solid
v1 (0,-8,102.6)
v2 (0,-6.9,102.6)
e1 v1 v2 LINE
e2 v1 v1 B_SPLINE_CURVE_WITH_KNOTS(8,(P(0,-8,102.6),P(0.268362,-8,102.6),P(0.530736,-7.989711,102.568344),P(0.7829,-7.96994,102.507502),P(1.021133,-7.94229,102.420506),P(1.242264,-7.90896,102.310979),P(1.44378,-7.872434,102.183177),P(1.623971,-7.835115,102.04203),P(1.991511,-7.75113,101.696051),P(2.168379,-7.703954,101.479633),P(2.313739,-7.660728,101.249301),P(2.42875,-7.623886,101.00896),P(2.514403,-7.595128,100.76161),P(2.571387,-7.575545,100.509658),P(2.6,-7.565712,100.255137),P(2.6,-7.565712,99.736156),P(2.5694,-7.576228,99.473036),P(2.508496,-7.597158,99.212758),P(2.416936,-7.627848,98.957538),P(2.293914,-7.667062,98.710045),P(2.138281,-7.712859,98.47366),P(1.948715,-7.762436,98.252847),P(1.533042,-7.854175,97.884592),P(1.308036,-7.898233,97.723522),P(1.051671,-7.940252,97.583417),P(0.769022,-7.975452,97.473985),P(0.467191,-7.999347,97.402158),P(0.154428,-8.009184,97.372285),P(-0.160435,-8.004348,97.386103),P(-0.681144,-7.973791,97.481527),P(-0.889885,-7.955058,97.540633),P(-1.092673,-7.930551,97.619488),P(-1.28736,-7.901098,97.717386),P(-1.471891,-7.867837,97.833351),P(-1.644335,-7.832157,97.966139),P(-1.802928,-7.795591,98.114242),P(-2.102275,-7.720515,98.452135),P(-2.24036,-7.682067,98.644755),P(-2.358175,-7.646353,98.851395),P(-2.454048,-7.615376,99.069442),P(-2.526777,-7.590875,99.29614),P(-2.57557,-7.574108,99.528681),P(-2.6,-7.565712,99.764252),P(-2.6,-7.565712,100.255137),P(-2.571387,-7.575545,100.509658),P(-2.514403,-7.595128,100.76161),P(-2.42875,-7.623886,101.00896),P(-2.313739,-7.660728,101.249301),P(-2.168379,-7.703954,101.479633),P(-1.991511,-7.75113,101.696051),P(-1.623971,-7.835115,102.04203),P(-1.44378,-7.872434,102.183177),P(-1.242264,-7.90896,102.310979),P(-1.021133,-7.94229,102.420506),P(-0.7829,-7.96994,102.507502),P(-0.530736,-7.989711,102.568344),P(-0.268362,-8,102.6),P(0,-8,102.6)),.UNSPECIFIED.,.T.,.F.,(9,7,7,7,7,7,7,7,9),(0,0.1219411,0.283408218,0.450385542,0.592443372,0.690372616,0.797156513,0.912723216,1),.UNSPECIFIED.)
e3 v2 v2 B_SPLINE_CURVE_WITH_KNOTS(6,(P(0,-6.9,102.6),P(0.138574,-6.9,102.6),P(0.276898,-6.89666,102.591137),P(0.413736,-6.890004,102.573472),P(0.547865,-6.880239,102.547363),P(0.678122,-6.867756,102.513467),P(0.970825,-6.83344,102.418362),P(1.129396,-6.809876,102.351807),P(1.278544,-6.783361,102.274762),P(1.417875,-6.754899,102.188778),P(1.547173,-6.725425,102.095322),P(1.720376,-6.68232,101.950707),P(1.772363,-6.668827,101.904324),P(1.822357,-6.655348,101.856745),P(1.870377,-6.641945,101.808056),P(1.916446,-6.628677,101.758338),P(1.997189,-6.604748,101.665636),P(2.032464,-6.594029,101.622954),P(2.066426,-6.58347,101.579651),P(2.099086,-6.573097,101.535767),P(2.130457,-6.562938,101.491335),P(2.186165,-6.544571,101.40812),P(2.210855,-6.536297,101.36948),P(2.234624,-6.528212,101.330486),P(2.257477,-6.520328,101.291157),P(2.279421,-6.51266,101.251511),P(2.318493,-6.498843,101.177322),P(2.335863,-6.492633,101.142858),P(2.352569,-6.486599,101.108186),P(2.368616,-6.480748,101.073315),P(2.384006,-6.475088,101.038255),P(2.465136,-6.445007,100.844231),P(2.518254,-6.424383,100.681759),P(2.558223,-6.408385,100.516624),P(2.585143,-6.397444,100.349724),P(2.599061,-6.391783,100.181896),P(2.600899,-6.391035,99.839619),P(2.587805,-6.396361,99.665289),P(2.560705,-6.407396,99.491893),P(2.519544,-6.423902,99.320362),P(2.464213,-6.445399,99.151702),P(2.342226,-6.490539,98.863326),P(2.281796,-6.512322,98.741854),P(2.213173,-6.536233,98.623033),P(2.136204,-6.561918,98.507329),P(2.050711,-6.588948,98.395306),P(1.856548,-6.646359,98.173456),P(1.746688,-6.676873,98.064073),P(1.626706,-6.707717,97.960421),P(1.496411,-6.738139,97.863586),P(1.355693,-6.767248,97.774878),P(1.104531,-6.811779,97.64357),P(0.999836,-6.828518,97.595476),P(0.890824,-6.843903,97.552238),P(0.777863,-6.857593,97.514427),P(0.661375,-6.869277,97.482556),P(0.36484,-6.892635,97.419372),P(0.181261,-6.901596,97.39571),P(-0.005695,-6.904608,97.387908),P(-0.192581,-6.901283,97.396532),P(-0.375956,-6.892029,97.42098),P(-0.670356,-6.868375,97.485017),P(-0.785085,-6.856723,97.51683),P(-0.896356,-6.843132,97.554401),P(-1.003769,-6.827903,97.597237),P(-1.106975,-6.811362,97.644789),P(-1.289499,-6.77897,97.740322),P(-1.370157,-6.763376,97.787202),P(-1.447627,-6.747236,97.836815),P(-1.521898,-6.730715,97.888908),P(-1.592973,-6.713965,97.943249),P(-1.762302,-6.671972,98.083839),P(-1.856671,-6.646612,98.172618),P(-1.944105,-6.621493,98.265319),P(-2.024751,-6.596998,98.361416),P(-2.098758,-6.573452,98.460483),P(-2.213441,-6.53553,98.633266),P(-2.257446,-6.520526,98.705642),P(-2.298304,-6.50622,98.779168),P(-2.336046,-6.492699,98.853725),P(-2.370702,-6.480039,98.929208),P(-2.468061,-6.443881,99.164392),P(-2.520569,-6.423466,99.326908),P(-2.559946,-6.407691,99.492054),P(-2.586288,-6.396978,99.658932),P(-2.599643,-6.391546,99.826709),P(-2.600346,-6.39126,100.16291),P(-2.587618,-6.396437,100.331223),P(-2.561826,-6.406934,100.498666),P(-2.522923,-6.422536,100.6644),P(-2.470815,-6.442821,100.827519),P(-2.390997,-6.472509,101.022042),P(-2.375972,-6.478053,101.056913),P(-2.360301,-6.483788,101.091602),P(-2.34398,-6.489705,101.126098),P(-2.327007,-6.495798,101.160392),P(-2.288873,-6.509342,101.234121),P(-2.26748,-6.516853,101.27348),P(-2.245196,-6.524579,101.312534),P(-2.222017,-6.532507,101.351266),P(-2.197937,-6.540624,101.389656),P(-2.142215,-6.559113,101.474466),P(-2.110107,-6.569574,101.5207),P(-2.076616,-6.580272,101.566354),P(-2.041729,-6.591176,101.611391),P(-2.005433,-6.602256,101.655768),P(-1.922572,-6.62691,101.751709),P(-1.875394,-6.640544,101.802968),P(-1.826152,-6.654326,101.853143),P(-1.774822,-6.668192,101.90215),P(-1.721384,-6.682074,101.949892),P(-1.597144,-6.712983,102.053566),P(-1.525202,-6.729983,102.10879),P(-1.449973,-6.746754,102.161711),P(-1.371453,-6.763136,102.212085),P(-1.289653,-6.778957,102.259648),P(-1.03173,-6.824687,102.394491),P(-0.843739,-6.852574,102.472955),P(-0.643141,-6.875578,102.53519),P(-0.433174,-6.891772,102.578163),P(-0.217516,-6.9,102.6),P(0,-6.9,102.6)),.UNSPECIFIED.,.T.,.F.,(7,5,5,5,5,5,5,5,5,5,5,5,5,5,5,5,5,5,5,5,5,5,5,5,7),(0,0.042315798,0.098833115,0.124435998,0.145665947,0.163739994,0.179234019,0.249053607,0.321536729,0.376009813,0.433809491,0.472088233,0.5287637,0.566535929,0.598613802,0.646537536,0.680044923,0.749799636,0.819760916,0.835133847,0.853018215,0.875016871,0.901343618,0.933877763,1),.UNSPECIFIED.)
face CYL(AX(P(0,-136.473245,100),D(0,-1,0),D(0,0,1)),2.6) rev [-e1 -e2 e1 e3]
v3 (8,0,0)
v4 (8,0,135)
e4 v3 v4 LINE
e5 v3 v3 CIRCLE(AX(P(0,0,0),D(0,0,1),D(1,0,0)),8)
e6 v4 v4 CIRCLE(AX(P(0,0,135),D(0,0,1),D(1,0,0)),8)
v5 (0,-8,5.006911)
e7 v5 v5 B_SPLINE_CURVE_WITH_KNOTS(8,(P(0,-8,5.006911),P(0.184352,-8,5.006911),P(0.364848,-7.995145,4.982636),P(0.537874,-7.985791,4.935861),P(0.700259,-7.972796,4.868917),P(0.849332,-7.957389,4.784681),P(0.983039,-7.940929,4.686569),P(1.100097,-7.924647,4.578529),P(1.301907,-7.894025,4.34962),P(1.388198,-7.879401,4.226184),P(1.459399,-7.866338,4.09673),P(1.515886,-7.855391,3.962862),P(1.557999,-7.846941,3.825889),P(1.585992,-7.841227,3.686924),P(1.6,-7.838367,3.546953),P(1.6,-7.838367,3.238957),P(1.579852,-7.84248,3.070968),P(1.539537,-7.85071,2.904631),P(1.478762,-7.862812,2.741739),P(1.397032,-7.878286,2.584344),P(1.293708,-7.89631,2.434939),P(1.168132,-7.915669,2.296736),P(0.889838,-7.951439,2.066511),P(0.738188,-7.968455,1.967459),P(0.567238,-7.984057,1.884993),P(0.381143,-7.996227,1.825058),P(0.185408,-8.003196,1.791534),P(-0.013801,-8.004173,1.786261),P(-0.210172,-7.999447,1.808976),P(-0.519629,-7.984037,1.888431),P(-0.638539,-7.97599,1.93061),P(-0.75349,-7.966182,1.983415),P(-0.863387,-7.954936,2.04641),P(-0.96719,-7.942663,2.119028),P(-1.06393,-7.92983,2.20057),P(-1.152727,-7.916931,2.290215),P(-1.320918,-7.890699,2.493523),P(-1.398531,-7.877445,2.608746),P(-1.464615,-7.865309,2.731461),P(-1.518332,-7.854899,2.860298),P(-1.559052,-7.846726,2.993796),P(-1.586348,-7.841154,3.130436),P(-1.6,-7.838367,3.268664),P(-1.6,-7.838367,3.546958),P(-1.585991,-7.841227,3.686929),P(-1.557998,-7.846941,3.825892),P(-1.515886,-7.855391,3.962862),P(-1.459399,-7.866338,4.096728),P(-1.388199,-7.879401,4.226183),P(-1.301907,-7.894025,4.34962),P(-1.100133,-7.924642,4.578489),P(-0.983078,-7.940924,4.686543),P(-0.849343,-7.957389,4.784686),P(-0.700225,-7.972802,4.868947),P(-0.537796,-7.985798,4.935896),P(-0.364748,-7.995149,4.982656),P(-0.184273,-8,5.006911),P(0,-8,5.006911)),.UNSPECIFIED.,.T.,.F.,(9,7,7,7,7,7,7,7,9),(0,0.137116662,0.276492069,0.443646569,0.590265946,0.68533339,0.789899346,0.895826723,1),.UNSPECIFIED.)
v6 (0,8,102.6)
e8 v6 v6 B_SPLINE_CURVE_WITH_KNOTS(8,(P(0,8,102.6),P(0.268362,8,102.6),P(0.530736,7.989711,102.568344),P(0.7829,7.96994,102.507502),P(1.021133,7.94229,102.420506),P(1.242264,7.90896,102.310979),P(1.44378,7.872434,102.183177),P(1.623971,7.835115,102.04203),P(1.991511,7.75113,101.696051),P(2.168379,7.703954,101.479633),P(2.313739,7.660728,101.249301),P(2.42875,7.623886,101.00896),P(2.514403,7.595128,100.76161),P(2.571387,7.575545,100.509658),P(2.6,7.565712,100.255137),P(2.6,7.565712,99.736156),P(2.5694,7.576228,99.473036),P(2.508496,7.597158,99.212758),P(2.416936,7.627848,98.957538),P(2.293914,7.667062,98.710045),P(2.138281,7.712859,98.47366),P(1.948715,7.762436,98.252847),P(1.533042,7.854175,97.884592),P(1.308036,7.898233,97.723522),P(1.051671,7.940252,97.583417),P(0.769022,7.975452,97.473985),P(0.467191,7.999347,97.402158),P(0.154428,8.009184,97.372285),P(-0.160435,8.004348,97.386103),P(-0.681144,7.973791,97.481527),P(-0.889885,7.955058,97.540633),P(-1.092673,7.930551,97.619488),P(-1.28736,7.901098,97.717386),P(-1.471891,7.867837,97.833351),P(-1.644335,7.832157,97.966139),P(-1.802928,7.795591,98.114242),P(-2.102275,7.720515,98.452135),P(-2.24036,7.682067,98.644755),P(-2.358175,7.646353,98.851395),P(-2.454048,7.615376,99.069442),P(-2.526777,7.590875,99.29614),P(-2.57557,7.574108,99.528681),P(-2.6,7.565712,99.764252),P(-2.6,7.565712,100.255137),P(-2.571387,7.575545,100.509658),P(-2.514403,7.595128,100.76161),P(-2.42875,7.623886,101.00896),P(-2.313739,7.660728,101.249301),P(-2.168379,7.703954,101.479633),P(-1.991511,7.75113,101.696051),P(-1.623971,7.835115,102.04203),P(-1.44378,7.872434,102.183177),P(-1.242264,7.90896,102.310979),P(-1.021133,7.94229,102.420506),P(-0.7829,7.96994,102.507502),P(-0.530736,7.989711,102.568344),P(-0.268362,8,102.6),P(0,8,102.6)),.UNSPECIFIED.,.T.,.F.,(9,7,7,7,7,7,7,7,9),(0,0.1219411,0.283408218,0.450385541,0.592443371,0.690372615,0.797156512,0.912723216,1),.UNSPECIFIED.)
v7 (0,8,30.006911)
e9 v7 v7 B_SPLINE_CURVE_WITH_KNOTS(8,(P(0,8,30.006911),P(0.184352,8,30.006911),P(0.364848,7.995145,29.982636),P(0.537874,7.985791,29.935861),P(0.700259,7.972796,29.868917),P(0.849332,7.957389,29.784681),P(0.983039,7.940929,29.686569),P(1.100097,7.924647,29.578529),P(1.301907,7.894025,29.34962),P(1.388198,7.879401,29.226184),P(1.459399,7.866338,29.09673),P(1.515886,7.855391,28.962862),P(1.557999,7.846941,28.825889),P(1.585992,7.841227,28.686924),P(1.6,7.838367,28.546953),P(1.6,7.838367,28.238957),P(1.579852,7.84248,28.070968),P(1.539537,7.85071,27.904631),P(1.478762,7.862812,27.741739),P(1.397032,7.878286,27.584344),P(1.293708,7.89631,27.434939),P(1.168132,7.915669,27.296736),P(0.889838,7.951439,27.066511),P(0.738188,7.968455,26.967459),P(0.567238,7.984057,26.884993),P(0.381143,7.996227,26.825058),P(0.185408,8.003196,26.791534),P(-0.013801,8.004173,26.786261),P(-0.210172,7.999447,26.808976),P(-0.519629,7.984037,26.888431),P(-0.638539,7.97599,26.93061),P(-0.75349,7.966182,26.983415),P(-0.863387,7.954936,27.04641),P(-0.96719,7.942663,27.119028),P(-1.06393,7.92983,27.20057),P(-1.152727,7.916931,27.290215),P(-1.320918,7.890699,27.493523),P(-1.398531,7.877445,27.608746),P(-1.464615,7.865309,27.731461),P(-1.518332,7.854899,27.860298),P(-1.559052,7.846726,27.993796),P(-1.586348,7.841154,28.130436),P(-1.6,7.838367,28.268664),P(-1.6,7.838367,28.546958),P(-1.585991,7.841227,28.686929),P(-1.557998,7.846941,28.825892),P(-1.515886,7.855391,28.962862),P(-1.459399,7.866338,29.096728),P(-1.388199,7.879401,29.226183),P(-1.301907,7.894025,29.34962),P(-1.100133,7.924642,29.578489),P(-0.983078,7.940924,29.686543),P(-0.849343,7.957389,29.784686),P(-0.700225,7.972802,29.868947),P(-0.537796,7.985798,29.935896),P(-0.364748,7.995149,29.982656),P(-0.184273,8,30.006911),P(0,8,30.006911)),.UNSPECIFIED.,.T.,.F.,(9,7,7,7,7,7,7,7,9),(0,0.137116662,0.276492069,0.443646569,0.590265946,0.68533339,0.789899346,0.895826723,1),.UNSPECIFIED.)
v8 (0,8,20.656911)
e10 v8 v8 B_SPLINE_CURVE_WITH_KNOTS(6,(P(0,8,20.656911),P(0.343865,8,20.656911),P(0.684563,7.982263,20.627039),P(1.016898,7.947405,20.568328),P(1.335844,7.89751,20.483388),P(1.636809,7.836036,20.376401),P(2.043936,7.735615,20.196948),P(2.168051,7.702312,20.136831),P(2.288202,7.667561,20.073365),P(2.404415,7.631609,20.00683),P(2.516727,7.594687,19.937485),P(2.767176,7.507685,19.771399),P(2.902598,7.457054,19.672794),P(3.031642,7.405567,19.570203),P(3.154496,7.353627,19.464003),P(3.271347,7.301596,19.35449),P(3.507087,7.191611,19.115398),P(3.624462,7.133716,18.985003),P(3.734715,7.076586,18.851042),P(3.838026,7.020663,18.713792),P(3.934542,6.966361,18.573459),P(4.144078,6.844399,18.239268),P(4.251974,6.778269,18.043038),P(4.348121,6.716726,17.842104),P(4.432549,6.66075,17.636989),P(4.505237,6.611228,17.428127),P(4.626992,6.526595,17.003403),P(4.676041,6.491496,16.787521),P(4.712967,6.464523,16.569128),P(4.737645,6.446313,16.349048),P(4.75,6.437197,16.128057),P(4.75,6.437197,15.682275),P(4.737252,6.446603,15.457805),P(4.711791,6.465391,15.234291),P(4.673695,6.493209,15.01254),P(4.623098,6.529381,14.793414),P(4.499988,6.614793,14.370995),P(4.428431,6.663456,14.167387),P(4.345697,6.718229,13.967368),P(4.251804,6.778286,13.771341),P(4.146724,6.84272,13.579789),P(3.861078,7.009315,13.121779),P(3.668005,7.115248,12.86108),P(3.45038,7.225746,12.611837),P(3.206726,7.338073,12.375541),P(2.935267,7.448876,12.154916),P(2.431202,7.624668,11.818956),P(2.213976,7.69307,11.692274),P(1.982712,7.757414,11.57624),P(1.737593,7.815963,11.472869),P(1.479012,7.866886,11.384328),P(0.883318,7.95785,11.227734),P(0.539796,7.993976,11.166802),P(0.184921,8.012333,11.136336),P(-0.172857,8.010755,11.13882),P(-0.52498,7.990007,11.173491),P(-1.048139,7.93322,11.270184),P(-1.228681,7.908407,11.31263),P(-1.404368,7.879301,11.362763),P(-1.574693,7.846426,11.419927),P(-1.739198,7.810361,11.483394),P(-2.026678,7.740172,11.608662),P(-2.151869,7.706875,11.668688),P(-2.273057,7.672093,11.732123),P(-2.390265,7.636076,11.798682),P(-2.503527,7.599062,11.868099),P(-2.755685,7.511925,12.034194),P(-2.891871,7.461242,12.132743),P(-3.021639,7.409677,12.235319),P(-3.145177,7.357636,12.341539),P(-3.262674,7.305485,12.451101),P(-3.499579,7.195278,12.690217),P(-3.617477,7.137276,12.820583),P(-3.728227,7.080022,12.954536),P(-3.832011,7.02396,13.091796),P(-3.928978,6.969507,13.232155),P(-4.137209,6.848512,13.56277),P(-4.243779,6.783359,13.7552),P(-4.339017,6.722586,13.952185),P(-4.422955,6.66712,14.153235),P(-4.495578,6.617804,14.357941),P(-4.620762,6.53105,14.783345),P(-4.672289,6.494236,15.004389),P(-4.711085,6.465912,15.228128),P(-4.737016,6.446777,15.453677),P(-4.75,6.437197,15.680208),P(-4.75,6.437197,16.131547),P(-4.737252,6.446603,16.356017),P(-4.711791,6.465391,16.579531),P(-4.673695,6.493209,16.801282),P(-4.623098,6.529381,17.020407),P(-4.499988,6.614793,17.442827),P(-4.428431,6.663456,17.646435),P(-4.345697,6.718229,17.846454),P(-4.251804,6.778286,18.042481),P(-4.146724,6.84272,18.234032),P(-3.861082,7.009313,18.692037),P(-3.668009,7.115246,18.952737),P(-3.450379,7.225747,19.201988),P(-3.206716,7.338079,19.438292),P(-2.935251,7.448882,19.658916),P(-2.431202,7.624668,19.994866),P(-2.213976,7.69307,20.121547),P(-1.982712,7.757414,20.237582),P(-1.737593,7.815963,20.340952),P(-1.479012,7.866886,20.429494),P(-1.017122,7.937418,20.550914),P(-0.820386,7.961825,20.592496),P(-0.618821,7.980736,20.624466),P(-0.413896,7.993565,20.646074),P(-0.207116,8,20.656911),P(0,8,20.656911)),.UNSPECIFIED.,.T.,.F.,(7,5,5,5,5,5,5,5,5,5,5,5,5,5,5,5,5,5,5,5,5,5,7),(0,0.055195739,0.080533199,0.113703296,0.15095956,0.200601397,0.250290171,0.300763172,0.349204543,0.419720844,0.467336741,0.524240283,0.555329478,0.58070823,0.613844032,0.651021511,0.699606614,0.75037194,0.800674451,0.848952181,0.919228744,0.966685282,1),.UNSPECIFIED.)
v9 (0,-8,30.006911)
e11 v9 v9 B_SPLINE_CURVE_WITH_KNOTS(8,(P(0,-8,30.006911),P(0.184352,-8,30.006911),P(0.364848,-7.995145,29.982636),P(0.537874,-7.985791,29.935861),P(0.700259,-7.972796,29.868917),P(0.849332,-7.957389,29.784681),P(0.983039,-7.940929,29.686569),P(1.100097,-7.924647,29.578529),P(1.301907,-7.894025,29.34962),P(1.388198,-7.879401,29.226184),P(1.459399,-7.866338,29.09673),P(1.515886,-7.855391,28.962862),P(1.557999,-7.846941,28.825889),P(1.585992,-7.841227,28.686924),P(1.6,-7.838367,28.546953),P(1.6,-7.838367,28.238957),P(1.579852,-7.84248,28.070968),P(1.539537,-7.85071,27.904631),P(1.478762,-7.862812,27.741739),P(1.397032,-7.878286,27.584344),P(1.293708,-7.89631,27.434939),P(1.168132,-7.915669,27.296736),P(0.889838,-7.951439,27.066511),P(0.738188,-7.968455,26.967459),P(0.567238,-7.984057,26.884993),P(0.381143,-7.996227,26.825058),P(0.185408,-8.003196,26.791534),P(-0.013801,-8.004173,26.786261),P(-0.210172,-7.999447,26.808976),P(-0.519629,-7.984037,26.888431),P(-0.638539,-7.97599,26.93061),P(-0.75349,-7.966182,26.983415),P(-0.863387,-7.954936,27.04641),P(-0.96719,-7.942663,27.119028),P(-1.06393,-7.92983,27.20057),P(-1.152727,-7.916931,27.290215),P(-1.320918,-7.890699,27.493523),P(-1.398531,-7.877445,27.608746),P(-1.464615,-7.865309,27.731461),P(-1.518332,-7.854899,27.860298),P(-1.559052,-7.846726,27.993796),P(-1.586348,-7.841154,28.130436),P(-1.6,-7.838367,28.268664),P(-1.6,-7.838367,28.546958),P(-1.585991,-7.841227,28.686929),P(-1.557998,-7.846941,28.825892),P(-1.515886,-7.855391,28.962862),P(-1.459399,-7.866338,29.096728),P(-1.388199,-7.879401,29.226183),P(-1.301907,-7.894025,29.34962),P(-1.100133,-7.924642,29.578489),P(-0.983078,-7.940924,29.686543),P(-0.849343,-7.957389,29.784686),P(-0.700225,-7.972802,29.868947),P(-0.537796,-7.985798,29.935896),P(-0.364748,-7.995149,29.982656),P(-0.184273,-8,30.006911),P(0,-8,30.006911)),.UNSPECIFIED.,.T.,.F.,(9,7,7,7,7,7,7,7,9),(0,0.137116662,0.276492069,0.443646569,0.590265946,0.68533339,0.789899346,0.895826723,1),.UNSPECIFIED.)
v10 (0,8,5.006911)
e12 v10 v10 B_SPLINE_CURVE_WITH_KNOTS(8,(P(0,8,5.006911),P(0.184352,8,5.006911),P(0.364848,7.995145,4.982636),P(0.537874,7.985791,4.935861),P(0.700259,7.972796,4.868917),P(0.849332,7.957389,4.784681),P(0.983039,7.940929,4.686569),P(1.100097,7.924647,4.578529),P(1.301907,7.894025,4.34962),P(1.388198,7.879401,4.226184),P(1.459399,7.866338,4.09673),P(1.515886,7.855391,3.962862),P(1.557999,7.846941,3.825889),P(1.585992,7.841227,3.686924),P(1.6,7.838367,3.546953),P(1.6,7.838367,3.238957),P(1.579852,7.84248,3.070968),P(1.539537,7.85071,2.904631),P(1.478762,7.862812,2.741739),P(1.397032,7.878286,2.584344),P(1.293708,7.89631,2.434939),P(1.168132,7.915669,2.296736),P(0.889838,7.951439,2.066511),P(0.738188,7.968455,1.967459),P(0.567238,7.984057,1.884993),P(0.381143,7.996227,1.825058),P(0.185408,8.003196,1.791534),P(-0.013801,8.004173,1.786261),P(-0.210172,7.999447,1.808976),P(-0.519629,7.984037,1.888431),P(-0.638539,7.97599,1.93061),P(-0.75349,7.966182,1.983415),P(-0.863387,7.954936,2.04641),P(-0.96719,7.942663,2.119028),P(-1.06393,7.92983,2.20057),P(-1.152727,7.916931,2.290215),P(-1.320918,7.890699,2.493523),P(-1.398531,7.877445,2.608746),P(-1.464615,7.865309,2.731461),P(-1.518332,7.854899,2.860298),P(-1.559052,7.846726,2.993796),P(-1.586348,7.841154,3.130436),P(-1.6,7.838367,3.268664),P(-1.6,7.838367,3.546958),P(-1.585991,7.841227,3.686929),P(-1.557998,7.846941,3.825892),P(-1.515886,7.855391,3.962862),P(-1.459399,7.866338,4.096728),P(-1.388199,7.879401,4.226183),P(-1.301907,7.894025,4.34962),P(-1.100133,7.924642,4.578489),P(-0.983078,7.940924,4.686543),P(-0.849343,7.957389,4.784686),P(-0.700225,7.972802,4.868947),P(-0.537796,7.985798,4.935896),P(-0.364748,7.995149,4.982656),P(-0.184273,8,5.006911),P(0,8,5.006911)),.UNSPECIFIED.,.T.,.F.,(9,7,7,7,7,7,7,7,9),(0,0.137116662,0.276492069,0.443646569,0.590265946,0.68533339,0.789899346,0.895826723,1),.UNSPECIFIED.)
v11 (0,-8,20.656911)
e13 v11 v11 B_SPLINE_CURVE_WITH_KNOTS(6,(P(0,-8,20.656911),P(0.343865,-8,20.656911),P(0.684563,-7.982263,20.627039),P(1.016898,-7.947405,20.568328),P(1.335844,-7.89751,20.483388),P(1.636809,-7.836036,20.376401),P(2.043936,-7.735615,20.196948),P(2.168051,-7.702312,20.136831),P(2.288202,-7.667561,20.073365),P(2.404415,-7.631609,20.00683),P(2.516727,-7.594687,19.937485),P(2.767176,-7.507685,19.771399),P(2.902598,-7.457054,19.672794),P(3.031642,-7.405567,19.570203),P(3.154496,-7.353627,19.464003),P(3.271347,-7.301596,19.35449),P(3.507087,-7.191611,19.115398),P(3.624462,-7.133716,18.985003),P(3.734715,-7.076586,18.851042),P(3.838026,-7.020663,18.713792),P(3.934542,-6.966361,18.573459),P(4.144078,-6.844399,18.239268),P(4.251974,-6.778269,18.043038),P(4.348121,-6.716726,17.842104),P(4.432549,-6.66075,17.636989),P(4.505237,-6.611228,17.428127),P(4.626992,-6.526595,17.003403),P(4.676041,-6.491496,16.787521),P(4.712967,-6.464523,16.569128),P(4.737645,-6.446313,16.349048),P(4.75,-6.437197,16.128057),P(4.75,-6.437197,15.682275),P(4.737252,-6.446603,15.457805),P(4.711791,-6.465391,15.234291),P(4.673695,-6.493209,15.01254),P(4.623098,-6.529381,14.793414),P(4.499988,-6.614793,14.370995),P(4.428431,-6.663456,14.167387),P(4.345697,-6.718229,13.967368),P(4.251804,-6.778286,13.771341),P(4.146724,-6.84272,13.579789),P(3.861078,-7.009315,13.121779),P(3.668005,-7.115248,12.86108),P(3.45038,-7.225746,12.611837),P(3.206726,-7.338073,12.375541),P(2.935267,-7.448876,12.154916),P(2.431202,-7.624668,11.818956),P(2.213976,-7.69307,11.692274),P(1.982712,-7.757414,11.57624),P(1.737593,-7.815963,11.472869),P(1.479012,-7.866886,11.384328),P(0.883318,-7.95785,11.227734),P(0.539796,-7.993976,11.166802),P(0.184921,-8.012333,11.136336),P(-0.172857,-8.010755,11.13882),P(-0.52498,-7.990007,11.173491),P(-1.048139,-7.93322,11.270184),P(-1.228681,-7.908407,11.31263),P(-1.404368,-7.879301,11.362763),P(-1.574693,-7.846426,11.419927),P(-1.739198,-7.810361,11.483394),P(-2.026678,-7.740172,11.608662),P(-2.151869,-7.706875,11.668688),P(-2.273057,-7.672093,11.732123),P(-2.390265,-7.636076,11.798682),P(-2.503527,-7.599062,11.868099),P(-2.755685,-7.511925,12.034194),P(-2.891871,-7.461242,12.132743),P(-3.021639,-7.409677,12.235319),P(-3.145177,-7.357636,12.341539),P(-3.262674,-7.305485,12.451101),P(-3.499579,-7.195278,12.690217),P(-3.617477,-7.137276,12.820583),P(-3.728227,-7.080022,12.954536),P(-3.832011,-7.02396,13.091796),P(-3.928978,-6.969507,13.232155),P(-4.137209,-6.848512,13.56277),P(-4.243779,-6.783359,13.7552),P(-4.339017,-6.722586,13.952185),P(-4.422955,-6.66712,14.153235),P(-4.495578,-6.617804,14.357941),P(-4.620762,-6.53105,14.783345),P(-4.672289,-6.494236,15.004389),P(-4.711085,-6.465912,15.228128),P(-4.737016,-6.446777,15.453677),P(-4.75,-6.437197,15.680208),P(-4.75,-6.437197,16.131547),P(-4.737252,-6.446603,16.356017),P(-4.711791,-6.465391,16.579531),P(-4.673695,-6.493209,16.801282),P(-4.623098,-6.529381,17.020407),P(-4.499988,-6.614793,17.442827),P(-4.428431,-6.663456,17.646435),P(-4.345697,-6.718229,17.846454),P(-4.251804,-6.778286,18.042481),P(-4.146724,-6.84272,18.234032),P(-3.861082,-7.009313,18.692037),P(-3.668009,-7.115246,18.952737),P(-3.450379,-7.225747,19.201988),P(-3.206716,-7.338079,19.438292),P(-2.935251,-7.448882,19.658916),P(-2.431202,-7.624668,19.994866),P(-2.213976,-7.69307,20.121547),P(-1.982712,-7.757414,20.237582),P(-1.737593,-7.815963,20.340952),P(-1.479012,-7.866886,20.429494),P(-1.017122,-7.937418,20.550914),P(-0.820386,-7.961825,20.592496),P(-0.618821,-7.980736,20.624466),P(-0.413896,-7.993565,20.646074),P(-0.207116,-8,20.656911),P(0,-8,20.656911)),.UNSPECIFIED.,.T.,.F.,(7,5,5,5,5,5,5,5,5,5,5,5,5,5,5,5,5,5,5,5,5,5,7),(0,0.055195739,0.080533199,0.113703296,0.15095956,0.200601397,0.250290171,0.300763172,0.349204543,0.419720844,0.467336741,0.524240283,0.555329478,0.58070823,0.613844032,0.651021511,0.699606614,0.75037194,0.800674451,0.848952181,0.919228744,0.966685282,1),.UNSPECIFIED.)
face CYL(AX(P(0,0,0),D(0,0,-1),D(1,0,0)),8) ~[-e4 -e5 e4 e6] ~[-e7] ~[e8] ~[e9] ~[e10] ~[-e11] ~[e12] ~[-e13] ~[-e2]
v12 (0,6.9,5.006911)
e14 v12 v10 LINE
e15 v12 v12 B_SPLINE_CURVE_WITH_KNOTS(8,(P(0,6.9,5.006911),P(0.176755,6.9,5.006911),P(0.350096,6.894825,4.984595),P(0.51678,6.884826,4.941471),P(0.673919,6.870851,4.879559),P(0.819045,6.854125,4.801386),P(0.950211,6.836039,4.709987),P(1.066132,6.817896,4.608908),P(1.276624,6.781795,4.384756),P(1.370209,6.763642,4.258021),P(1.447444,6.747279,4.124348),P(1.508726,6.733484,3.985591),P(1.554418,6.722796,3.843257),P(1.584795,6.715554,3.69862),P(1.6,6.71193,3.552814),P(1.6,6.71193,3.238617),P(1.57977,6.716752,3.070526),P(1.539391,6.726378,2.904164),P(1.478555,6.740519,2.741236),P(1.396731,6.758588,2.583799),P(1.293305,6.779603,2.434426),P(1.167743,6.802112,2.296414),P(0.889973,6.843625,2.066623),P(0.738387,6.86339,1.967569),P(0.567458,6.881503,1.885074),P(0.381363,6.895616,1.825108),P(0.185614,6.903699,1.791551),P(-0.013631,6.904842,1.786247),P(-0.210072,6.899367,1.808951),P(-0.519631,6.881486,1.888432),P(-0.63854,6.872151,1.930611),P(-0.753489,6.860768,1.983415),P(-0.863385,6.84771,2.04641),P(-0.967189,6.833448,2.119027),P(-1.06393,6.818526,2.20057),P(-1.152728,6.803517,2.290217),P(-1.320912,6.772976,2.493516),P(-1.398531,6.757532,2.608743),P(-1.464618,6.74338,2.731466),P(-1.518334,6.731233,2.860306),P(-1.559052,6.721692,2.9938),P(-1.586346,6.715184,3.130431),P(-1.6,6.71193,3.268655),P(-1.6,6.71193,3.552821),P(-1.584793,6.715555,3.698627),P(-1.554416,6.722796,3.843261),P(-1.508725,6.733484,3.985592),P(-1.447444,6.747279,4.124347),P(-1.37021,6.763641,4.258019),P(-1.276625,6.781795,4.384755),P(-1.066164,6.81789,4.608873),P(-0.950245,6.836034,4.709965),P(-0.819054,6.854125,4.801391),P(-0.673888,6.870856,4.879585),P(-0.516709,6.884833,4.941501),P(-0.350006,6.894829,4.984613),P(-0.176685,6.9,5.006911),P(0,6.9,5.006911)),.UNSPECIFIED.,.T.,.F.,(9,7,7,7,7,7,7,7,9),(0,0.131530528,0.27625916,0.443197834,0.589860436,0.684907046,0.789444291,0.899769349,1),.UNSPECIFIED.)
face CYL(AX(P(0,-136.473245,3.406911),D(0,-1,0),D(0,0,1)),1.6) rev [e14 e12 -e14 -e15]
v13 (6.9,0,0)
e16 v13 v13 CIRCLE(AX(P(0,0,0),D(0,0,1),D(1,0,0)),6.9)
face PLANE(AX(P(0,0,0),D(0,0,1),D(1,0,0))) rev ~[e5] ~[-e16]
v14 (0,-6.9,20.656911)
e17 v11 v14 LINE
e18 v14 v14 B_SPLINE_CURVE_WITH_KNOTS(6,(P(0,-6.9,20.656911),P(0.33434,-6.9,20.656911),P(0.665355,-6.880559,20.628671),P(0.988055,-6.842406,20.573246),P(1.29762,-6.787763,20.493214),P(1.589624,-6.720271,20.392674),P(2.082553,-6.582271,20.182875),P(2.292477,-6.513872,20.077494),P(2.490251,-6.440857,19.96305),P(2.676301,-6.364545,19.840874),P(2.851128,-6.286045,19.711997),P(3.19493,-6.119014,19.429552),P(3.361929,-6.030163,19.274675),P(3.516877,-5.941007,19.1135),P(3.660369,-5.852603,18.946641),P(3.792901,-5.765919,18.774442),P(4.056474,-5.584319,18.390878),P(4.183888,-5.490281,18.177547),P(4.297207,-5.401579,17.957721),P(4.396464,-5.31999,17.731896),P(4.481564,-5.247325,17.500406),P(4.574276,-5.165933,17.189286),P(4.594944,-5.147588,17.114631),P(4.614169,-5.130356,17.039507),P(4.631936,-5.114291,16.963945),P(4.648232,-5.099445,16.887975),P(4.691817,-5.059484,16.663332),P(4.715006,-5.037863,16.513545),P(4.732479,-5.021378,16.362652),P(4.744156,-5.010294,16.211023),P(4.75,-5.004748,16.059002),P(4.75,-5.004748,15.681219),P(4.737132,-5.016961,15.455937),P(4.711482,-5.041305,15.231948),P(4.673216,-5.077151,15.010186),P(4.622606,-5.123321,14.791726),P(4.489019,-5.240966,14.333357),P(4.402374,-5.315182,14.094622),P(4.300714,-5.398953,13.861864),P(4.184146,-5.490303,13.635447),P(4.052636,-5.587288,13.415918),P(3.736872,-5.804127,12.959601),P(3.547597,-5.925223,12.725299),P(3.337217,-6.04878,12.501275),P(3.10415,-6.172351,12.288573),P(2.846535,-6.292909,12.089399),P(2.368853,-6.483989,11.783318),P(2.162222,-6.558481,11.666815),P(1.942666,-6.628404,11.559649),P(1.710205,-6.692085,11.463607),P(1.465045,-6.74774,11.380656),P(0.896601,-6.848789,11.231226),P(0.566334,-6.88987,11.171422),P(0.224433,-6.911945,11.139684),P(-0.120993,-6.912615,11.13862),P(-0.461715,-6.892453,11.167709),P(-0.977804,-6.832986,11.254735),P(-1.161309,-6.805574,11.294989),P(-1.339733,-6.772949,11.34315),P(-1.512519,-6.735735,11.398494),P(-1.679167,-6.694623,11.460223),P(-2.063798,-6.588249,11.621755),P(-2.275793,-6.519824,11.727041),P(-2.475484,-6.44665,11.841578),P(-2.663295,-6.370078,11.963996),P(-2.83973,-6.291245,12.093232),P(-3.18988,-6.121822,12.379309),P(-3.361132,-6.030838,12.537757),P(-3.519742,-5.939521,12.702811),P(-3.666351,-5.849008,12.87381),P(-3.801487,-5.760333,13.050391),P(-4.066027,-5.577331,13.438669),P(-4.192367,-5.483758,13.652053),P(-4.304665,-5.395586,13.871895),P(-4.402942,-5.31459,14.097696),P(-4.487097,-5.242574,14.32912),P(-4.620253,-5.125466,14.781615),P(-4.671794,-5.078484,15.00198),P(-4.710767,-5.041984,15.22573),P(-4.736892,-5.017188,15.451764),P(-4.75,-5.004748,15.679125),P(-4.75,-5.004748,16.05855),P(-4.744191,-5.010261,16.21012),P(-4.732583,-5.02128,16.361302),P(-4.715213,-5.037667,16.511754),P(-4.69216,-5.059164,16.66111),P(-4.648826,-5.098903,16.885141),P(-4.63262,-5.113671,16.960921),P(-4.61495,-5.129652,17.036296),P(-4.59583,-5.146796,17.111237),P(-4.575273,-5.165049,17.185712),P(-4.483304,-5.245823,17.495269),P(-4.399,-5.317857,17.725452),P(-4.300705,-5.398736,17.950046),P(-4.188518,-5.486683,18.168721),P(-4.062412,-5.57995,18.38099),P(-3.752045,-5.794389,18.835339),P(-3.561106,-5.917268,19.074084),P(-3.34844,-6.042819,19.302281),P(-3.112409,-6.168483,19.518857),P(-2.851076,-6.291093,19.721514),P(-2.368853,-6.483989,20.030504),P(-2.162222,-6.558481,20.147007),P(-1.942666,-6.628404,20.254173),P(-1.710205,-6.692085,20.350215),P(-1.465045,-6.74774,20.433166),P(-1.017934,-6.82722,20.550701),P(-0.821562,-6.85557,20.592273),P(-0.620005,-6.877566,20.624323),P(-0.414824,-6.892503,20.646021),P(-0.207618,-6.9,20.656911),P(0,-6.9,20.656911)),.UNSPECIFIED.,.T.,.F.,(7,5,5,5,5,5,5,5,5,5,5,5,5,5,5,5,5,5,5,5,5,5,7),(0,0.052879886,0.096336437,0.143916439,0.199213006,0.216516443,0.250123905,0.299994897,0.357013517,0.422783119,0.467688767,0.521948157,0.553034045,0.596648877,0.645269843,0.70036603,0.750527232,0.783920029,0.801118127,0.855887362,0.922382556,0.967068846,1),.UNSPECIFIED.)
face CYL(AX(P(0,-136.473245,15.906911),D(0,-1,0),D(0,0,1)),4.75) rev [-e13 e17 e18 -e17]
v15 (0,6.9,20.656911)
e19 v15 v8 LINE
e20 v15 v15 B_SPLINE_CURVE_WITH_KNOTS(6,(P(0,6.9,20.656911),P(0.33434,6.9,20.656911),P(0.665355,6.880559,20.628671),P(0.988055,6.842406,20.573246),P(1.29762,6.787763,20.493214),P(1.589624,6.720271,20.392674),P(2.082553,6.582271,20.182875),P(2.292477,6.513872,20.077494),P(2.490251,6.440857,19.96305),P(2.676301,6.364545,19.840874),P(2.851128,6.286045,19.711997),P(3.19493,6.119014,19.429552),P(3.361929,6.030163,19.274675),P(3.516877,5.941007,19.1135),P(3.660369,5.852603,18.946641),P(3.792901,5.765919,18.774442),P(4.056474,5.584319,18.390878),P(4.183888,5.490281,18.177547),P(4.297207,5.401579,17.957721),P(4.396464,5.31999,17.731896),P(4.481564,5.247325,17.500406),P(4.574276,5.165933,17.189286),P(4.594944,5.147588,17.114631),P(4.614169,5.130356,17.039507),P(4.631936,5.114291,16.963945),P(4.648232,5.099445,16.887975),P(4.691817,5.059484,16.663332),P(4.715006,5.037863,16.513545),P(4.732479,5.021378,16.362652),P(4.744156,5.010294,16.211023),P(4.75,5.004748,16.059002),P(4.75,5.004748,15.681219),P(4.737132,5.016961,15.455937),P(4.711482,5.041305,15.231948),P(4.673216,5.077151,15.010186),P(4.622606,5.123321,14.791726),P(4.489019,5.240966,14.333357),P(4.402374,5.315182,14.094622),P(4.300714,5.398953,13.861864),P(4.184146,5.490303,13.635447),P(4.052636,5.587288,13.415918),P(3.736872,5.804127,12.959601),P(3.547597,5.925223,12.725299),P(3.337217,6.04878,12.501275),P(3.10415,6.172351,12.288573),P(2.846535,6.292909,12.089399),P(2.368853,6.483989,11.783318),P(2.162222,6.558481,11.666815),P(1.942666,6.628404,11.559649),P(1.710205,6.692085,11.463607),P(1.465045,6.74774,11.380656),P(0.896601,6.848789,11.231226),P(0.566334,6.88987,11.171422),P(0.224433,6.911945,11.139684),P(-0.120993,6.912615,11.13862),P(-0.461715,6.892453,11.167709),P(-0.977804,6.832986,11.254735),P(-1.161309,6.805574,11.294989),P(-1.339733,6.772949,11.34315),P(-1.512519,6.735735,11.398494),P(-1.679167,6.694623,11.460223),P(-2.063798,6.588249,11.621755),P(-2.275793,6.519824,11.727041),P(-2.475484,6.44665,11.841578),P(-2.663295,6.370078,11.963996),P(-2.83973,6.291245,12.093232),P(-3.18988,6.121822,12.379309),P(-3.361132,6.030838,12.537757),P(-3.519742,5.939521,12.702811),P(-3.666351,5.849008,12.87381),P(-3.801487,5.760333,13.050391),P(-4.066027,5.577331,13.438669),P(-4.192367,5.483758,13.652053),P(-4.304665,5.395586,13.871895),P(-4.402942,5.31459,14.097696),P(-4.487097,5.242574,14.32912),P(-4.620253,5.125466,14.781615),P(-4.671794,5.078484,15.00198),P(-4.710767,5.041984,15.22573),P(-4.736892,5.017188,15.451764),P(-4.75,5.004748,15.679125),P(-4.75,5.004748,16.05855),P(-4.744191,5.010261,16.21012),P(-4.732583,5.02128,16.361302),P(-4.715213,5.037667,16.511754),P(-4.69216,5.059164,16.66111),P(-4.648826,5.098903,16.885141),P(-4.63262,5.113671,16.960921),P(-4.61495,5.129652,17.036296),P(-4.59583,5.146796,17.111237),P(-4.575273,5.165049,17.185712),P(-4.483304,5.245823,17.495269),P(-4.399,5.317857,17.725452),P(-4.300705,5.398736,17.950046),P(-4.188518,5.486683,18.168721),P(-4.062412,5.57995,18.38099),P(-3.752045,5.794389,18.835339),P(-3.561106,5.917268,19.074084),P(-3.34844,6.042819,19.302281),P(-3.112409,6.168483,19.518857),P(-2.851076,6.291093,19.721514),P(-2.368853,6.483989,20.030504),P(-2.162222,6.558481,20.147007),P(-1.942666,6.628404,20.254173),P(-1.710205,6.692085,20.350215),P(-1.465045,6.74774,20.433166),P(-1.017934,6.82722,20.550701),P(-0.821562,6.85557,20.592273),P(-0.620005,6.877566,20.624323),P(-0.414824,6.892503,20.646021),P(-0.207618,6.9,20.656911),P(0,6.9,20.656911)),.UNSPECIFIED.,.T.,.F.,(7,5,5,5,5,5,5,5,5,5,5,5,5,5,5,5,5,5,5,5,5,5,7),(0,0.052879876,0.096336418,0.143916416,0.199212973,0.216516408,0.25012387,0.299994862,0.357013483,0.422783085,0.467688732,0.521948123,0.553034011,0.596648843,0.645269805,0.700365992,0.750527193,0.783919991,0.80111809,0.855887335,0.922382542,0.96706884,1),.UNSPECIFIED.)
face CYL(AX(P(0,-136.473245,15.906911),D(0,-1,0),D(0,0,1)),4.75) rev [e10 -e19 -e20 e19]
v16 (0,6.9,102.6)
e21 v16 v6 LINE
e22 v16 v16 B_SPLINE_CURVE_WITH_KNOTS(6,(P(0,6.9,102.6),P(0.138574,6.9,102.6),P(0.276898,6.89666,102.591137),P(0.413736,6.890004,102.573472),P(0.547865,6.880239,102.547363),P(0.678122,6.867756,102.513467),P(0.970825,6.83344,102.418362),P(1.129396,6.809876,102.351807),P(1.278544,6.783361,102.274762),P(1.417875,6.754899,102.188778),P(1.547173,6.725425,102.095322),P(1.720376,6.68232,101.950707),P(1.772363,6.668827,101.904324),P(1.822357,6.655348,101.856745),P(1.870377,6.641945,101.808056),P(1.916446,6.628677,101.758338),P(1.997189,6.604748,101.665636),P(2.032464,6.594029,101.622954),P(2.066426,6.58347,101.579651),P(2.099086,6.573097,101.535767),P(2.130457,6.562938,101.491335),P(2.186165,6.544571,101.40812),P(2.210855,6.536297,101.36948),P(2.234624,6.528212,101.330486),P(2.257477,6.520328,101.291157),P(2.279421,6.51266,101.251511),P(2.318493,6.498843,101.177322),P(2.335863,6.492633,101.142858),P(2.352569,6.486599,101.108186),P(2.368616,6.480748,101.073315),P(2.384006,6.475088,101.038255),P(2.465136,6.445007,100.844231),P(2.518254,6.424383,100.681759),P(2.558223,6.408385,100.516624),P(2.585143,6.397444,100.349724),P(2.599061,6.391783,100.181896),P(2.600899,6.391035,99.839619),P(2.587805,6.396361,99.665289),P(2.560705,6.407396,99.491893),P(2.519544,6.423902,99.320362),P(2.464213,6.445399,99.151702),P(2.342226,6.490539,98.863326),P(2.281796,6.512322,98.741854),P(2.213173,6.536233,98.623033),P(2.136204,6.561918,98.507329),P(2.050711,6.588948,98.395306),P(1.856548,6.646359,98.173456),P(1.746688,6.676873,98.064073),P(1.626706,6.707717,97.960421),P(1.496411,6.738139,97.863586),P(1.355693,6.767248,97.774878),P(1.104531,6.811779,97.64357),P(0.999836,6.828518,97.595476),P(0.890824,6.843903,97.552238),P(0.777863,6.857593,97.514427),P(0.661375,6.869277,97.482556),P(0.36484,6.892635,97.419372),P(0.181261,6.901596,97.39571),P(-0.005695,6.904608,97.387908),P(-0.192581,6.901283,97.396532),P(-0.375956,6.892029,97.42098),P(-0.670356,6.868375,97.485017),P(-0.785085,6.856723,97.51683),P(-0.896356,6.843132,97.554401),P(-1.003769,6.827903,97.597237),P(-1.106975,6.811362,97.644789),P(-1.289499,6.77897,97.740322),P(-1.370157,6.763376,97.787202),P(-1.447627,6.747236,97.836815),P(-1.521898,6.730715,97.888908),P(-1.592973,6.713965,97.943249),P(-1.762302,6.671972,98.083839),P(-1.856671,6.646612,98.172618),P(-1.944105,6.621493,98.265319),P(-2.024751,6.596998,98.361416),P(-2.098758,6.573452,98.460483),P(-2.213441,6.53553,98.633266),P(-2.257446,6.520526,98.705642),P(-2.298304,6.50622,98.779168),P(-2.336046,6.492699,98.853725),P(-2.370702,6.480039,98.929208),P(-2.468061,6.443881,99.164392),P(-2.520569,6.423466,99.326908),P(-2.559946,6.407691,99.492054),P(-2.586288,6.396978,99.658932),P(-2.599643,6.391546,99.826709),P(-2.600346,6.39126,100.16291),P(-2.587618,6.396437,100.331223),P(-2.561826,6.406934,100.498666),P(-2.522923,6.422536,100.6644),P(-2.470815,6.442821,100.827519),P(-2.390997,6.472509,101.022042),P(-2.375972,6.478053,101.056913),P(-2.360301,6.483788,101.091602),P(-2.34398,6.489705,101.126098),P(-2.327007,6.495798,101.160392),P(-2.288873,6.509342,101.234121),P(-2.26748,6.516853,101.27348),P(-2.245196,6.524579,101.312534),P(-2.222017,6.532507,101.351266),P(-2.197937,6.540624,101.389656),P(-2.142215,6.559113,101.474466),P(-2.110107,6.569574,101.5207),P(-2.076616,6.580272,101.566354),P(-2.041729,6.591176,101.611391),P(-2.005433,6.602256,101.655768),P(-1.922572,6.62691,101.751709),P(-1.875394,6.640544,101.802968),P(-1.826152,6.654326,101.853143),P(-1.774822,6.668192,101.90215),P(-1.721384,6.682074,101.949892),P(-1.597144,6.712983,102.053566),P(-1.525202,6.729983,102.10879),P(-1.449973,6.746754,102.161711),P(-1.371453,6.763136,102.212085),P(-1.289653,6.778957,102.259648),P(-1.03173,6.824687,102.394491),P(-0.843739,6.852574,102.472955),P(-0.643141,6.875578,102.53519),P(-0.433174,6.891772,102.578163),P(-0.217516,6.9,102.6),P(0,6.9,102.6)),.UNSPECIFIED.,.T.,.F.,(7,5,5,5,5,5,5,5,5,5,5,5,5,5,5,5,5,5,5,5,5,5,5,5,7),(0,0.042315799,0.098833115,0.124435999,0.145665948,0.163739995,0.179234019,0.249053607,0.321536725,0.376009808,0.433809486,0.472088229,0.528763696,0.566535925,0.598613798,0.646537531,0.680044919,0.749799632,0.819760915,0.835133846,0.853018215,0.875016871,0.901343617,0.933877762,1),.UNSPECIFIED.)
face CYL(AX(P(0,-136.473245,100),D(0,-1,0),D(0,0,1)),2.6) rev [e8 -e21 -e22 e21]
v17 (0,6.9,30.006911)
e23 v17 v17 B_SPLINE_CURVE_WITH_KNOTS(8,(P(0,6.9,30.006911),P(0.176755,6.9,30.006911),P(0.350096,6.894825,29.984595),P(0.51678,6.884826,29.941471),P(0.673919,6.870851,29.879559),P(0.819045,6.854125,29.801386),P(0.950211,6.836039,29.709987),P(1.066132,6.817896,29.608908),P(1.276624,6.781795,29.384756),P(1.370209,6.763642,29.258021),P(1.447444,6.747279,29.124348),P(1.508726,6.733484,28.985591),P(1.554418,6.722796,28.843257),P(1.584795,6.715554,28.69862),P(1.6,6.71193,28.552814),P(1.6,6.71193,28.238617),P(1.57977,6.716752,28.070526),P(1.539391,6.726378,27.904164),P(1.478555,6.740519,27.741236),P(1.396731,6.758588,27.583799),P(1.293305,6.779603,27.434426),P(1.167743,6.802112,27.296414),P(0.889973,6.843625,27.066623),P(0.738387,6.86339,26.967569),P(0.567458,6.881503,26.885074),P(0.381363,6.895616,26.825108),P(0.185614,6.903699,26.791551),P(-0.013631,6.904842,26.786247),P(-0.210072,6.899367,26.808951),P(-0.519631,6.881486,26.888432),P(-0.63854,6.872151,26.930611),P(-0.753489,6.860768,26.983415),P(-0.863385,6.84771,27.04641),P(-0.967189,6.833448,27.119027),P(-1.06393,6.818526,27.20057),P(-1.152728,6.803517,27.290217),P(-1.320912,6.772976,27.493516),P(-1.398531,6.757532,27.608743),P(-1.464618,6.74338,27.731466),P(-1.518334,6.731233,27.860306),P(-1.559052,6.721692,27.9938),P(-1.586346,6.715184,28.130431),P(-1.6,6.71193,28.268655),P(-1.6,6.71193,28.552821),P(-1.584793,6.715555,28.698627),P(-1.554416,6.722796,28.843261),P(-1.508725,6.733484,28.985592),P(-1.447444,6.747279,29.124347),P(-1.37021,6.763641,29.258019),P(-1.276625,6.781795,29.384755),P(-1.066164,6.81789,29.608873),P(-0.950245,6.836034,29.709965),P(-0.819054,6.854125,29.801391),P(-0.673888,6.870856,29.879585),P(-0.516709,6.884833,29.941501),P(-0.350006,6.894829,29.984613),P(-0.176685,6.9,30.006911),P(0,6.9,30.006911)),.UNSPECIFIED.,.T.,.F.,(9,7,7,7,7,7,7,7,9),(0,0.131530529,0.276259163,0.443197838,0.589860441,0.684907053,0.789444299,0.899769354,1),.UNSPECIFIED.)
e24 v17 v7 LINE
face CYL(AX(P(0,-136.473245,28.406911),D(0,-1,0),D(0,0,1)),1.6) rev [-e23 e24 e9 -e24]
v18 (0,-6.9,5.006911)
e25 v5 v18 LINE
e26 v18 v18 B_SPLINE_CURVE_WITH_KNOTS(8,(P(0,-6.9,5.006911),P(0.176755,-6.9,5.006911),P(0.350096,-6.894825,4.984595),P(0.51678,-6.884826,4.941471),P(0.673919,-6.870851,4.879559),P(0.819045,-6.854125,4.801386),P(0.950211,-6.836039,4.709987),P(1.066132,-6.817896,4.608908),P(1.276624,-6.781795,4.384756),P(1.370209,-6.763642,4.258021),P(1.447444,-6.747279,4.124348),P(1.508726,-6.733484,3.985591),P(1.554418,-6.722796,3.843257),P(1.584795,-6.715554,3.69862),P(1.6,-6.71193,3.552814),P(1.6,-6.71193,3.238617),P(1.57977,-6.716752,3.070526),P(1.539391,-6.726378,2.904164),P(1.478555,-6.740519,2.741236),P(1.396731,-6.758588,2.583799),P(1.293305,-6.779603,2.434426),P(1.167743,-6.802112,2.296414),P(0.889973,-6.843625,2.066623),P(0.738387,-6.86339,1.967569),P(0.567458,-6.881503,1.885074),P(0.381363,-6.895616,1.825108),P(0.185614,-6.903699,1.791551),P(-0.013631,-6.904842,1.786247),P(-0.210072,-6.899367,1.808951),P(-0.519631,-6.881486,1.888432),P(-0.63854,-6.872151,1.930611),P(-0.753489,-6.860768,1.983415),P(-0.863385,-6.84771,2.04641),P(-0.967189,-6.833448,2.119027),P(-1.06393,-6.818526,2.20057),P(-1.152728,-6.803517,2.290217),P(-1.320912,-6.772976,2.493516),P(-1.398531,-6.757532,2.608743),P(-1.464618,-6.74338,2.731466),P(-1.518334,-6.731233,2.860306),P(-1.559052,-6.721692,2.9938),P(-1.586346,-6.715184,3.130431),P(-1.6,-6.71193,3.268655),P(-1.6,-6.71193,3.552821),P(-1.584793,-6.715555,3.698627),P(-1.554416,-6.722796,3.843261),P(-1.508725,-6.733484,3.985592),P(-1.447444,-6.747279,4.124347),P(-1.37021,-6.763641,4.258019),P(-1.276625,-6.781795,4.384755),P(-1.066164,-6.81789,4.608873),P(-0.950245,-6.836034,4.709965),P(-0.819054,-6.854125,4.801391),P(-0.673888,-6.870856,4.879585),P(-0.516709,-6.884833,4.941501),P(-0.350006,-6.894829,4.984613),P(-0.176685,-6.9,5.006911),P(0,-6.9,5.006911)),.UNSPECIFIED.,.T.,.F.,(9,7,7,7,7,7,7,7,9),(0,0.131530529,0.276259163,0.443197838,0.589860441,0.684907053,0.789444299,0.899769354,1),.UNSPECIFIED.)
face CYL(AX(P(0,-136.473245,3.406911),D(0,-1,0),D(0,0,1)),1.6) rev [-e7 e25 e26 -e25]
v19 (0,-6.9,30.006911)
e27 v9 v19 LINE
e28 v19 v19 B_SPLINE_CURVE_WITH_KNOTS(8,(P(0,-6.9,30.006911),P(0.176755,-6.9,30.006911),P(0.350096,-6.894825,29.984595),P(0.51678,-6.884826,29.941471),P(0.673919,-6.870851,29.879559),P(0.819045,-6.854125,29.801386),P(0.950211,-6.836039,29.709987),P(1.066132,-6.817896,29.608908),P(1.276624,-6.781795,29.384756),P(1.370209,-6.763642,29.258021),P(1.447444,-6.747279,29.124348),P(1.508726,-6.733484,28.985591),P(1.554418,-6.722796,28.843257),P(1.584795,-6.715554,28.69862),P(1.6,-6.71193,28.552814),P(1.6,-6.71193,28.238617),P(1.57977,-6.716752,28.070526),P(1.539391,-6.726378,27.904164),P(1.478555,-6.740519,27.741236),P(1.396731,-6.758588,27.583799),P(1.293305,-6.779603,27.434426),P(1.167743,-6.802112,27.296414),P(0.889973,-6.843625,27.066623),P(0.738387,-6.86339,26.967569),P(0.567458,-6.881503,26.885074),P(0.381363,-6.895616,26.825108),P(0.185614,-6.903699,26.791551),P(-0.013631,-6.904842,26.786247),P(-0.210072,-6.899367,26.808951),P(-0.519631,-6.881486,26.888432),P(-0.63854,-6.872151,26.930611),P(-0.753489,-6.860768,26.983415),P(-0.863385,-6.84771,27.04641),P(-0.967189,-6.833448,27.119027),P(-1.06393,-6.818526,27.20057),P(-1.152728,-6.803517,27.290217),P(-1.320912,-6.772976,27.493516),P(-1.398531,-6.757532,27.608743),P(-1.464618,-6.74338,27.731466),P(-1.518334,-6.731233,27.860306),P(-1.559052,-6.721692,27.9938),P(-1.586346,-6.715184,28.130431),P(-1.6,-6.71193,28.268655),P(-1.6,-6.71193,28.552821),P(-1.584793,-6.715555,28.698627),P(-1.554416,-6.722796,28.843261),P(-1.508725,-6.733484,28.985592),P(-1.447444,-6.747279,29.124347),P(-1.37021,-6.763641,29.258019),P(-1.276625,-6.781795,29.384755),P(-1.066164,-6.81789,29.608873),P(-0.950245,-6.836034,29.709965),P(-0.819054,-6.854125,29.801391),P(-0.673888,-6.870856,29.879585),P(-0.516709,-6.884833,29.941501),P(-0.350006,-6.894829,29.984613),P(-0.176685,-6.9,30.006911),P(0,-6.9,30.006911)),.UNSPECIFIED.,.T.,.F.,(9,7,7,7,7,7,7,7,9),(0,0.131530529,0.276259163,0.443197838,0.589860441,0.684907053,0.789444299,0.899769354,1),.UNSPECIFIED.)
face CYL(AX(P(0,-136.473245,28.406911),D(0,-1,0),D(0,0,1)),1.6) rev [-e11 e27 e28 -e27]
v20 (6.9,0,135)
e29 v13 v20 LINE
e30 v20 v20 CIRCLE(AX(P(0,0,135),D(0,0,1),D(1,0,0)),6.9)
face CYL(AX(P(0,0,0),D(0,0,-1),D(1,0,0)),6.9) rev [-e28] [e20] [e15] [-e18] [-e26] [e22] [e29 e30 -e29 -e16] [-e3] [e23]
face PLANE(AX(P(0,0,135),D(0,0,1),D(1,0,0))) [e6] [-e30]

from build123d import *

# Parameters (mm, degrees)
SKETCH1_R               = 8
SKETCH1_R_2             = 6.9
BOSS_EXTRUDE1_DEPTH     = 135
CUT_EXTRUDE1_DEPTH      = 136.473244591
CUT_EXTRUDE1_DEPTH_BACK = 136.473244591
SKETCH3_R               = 2.6
SKETCH3_R_2             = 4.75
SKETCH3_R_3             = 1.6


with BuildPart() as part:
    # Sketch1 → Boss-Extrude1 (new body)
    with BuildSketch(Plane.XY):
        Circle(SKETCH1_R)
        Circle(SKETCH1_R_2, mode=Mode.SUBTRACT)
    extrude(amount=BOSS_EXTRUDE1_DEPTH)

    # Sketch3 → Cut-Extrude1 (cut, two sides: drawn at the far end of the back side and taken through both)
    with BuildSketch(Plane(origin=(0, 0, 0), x_dir=(1, 0, 0), z_dir=(0, 1, 0)).offset(-CUT_EXTRUDE1_DEPTH_BACK)):
        with Locations((0, -100)):
            Circle(SKETCH3_R)
        with Locations((0, -15.906910881)):
            Circle(SKETCH3_R_2)
        with Locations((0, -3.406910881)):
            Circle(SKETCH3_R_3)
        with Locations((0, -28.406910881)):
            Circle(SKETCH3_R_3)
    extrude(amount=CUT_EXTRUDE1_DEPTH + CUT_EXTRUDE1_DEPTH_BACK, mode=Mode.SUBTRACT)


solid = part.part
